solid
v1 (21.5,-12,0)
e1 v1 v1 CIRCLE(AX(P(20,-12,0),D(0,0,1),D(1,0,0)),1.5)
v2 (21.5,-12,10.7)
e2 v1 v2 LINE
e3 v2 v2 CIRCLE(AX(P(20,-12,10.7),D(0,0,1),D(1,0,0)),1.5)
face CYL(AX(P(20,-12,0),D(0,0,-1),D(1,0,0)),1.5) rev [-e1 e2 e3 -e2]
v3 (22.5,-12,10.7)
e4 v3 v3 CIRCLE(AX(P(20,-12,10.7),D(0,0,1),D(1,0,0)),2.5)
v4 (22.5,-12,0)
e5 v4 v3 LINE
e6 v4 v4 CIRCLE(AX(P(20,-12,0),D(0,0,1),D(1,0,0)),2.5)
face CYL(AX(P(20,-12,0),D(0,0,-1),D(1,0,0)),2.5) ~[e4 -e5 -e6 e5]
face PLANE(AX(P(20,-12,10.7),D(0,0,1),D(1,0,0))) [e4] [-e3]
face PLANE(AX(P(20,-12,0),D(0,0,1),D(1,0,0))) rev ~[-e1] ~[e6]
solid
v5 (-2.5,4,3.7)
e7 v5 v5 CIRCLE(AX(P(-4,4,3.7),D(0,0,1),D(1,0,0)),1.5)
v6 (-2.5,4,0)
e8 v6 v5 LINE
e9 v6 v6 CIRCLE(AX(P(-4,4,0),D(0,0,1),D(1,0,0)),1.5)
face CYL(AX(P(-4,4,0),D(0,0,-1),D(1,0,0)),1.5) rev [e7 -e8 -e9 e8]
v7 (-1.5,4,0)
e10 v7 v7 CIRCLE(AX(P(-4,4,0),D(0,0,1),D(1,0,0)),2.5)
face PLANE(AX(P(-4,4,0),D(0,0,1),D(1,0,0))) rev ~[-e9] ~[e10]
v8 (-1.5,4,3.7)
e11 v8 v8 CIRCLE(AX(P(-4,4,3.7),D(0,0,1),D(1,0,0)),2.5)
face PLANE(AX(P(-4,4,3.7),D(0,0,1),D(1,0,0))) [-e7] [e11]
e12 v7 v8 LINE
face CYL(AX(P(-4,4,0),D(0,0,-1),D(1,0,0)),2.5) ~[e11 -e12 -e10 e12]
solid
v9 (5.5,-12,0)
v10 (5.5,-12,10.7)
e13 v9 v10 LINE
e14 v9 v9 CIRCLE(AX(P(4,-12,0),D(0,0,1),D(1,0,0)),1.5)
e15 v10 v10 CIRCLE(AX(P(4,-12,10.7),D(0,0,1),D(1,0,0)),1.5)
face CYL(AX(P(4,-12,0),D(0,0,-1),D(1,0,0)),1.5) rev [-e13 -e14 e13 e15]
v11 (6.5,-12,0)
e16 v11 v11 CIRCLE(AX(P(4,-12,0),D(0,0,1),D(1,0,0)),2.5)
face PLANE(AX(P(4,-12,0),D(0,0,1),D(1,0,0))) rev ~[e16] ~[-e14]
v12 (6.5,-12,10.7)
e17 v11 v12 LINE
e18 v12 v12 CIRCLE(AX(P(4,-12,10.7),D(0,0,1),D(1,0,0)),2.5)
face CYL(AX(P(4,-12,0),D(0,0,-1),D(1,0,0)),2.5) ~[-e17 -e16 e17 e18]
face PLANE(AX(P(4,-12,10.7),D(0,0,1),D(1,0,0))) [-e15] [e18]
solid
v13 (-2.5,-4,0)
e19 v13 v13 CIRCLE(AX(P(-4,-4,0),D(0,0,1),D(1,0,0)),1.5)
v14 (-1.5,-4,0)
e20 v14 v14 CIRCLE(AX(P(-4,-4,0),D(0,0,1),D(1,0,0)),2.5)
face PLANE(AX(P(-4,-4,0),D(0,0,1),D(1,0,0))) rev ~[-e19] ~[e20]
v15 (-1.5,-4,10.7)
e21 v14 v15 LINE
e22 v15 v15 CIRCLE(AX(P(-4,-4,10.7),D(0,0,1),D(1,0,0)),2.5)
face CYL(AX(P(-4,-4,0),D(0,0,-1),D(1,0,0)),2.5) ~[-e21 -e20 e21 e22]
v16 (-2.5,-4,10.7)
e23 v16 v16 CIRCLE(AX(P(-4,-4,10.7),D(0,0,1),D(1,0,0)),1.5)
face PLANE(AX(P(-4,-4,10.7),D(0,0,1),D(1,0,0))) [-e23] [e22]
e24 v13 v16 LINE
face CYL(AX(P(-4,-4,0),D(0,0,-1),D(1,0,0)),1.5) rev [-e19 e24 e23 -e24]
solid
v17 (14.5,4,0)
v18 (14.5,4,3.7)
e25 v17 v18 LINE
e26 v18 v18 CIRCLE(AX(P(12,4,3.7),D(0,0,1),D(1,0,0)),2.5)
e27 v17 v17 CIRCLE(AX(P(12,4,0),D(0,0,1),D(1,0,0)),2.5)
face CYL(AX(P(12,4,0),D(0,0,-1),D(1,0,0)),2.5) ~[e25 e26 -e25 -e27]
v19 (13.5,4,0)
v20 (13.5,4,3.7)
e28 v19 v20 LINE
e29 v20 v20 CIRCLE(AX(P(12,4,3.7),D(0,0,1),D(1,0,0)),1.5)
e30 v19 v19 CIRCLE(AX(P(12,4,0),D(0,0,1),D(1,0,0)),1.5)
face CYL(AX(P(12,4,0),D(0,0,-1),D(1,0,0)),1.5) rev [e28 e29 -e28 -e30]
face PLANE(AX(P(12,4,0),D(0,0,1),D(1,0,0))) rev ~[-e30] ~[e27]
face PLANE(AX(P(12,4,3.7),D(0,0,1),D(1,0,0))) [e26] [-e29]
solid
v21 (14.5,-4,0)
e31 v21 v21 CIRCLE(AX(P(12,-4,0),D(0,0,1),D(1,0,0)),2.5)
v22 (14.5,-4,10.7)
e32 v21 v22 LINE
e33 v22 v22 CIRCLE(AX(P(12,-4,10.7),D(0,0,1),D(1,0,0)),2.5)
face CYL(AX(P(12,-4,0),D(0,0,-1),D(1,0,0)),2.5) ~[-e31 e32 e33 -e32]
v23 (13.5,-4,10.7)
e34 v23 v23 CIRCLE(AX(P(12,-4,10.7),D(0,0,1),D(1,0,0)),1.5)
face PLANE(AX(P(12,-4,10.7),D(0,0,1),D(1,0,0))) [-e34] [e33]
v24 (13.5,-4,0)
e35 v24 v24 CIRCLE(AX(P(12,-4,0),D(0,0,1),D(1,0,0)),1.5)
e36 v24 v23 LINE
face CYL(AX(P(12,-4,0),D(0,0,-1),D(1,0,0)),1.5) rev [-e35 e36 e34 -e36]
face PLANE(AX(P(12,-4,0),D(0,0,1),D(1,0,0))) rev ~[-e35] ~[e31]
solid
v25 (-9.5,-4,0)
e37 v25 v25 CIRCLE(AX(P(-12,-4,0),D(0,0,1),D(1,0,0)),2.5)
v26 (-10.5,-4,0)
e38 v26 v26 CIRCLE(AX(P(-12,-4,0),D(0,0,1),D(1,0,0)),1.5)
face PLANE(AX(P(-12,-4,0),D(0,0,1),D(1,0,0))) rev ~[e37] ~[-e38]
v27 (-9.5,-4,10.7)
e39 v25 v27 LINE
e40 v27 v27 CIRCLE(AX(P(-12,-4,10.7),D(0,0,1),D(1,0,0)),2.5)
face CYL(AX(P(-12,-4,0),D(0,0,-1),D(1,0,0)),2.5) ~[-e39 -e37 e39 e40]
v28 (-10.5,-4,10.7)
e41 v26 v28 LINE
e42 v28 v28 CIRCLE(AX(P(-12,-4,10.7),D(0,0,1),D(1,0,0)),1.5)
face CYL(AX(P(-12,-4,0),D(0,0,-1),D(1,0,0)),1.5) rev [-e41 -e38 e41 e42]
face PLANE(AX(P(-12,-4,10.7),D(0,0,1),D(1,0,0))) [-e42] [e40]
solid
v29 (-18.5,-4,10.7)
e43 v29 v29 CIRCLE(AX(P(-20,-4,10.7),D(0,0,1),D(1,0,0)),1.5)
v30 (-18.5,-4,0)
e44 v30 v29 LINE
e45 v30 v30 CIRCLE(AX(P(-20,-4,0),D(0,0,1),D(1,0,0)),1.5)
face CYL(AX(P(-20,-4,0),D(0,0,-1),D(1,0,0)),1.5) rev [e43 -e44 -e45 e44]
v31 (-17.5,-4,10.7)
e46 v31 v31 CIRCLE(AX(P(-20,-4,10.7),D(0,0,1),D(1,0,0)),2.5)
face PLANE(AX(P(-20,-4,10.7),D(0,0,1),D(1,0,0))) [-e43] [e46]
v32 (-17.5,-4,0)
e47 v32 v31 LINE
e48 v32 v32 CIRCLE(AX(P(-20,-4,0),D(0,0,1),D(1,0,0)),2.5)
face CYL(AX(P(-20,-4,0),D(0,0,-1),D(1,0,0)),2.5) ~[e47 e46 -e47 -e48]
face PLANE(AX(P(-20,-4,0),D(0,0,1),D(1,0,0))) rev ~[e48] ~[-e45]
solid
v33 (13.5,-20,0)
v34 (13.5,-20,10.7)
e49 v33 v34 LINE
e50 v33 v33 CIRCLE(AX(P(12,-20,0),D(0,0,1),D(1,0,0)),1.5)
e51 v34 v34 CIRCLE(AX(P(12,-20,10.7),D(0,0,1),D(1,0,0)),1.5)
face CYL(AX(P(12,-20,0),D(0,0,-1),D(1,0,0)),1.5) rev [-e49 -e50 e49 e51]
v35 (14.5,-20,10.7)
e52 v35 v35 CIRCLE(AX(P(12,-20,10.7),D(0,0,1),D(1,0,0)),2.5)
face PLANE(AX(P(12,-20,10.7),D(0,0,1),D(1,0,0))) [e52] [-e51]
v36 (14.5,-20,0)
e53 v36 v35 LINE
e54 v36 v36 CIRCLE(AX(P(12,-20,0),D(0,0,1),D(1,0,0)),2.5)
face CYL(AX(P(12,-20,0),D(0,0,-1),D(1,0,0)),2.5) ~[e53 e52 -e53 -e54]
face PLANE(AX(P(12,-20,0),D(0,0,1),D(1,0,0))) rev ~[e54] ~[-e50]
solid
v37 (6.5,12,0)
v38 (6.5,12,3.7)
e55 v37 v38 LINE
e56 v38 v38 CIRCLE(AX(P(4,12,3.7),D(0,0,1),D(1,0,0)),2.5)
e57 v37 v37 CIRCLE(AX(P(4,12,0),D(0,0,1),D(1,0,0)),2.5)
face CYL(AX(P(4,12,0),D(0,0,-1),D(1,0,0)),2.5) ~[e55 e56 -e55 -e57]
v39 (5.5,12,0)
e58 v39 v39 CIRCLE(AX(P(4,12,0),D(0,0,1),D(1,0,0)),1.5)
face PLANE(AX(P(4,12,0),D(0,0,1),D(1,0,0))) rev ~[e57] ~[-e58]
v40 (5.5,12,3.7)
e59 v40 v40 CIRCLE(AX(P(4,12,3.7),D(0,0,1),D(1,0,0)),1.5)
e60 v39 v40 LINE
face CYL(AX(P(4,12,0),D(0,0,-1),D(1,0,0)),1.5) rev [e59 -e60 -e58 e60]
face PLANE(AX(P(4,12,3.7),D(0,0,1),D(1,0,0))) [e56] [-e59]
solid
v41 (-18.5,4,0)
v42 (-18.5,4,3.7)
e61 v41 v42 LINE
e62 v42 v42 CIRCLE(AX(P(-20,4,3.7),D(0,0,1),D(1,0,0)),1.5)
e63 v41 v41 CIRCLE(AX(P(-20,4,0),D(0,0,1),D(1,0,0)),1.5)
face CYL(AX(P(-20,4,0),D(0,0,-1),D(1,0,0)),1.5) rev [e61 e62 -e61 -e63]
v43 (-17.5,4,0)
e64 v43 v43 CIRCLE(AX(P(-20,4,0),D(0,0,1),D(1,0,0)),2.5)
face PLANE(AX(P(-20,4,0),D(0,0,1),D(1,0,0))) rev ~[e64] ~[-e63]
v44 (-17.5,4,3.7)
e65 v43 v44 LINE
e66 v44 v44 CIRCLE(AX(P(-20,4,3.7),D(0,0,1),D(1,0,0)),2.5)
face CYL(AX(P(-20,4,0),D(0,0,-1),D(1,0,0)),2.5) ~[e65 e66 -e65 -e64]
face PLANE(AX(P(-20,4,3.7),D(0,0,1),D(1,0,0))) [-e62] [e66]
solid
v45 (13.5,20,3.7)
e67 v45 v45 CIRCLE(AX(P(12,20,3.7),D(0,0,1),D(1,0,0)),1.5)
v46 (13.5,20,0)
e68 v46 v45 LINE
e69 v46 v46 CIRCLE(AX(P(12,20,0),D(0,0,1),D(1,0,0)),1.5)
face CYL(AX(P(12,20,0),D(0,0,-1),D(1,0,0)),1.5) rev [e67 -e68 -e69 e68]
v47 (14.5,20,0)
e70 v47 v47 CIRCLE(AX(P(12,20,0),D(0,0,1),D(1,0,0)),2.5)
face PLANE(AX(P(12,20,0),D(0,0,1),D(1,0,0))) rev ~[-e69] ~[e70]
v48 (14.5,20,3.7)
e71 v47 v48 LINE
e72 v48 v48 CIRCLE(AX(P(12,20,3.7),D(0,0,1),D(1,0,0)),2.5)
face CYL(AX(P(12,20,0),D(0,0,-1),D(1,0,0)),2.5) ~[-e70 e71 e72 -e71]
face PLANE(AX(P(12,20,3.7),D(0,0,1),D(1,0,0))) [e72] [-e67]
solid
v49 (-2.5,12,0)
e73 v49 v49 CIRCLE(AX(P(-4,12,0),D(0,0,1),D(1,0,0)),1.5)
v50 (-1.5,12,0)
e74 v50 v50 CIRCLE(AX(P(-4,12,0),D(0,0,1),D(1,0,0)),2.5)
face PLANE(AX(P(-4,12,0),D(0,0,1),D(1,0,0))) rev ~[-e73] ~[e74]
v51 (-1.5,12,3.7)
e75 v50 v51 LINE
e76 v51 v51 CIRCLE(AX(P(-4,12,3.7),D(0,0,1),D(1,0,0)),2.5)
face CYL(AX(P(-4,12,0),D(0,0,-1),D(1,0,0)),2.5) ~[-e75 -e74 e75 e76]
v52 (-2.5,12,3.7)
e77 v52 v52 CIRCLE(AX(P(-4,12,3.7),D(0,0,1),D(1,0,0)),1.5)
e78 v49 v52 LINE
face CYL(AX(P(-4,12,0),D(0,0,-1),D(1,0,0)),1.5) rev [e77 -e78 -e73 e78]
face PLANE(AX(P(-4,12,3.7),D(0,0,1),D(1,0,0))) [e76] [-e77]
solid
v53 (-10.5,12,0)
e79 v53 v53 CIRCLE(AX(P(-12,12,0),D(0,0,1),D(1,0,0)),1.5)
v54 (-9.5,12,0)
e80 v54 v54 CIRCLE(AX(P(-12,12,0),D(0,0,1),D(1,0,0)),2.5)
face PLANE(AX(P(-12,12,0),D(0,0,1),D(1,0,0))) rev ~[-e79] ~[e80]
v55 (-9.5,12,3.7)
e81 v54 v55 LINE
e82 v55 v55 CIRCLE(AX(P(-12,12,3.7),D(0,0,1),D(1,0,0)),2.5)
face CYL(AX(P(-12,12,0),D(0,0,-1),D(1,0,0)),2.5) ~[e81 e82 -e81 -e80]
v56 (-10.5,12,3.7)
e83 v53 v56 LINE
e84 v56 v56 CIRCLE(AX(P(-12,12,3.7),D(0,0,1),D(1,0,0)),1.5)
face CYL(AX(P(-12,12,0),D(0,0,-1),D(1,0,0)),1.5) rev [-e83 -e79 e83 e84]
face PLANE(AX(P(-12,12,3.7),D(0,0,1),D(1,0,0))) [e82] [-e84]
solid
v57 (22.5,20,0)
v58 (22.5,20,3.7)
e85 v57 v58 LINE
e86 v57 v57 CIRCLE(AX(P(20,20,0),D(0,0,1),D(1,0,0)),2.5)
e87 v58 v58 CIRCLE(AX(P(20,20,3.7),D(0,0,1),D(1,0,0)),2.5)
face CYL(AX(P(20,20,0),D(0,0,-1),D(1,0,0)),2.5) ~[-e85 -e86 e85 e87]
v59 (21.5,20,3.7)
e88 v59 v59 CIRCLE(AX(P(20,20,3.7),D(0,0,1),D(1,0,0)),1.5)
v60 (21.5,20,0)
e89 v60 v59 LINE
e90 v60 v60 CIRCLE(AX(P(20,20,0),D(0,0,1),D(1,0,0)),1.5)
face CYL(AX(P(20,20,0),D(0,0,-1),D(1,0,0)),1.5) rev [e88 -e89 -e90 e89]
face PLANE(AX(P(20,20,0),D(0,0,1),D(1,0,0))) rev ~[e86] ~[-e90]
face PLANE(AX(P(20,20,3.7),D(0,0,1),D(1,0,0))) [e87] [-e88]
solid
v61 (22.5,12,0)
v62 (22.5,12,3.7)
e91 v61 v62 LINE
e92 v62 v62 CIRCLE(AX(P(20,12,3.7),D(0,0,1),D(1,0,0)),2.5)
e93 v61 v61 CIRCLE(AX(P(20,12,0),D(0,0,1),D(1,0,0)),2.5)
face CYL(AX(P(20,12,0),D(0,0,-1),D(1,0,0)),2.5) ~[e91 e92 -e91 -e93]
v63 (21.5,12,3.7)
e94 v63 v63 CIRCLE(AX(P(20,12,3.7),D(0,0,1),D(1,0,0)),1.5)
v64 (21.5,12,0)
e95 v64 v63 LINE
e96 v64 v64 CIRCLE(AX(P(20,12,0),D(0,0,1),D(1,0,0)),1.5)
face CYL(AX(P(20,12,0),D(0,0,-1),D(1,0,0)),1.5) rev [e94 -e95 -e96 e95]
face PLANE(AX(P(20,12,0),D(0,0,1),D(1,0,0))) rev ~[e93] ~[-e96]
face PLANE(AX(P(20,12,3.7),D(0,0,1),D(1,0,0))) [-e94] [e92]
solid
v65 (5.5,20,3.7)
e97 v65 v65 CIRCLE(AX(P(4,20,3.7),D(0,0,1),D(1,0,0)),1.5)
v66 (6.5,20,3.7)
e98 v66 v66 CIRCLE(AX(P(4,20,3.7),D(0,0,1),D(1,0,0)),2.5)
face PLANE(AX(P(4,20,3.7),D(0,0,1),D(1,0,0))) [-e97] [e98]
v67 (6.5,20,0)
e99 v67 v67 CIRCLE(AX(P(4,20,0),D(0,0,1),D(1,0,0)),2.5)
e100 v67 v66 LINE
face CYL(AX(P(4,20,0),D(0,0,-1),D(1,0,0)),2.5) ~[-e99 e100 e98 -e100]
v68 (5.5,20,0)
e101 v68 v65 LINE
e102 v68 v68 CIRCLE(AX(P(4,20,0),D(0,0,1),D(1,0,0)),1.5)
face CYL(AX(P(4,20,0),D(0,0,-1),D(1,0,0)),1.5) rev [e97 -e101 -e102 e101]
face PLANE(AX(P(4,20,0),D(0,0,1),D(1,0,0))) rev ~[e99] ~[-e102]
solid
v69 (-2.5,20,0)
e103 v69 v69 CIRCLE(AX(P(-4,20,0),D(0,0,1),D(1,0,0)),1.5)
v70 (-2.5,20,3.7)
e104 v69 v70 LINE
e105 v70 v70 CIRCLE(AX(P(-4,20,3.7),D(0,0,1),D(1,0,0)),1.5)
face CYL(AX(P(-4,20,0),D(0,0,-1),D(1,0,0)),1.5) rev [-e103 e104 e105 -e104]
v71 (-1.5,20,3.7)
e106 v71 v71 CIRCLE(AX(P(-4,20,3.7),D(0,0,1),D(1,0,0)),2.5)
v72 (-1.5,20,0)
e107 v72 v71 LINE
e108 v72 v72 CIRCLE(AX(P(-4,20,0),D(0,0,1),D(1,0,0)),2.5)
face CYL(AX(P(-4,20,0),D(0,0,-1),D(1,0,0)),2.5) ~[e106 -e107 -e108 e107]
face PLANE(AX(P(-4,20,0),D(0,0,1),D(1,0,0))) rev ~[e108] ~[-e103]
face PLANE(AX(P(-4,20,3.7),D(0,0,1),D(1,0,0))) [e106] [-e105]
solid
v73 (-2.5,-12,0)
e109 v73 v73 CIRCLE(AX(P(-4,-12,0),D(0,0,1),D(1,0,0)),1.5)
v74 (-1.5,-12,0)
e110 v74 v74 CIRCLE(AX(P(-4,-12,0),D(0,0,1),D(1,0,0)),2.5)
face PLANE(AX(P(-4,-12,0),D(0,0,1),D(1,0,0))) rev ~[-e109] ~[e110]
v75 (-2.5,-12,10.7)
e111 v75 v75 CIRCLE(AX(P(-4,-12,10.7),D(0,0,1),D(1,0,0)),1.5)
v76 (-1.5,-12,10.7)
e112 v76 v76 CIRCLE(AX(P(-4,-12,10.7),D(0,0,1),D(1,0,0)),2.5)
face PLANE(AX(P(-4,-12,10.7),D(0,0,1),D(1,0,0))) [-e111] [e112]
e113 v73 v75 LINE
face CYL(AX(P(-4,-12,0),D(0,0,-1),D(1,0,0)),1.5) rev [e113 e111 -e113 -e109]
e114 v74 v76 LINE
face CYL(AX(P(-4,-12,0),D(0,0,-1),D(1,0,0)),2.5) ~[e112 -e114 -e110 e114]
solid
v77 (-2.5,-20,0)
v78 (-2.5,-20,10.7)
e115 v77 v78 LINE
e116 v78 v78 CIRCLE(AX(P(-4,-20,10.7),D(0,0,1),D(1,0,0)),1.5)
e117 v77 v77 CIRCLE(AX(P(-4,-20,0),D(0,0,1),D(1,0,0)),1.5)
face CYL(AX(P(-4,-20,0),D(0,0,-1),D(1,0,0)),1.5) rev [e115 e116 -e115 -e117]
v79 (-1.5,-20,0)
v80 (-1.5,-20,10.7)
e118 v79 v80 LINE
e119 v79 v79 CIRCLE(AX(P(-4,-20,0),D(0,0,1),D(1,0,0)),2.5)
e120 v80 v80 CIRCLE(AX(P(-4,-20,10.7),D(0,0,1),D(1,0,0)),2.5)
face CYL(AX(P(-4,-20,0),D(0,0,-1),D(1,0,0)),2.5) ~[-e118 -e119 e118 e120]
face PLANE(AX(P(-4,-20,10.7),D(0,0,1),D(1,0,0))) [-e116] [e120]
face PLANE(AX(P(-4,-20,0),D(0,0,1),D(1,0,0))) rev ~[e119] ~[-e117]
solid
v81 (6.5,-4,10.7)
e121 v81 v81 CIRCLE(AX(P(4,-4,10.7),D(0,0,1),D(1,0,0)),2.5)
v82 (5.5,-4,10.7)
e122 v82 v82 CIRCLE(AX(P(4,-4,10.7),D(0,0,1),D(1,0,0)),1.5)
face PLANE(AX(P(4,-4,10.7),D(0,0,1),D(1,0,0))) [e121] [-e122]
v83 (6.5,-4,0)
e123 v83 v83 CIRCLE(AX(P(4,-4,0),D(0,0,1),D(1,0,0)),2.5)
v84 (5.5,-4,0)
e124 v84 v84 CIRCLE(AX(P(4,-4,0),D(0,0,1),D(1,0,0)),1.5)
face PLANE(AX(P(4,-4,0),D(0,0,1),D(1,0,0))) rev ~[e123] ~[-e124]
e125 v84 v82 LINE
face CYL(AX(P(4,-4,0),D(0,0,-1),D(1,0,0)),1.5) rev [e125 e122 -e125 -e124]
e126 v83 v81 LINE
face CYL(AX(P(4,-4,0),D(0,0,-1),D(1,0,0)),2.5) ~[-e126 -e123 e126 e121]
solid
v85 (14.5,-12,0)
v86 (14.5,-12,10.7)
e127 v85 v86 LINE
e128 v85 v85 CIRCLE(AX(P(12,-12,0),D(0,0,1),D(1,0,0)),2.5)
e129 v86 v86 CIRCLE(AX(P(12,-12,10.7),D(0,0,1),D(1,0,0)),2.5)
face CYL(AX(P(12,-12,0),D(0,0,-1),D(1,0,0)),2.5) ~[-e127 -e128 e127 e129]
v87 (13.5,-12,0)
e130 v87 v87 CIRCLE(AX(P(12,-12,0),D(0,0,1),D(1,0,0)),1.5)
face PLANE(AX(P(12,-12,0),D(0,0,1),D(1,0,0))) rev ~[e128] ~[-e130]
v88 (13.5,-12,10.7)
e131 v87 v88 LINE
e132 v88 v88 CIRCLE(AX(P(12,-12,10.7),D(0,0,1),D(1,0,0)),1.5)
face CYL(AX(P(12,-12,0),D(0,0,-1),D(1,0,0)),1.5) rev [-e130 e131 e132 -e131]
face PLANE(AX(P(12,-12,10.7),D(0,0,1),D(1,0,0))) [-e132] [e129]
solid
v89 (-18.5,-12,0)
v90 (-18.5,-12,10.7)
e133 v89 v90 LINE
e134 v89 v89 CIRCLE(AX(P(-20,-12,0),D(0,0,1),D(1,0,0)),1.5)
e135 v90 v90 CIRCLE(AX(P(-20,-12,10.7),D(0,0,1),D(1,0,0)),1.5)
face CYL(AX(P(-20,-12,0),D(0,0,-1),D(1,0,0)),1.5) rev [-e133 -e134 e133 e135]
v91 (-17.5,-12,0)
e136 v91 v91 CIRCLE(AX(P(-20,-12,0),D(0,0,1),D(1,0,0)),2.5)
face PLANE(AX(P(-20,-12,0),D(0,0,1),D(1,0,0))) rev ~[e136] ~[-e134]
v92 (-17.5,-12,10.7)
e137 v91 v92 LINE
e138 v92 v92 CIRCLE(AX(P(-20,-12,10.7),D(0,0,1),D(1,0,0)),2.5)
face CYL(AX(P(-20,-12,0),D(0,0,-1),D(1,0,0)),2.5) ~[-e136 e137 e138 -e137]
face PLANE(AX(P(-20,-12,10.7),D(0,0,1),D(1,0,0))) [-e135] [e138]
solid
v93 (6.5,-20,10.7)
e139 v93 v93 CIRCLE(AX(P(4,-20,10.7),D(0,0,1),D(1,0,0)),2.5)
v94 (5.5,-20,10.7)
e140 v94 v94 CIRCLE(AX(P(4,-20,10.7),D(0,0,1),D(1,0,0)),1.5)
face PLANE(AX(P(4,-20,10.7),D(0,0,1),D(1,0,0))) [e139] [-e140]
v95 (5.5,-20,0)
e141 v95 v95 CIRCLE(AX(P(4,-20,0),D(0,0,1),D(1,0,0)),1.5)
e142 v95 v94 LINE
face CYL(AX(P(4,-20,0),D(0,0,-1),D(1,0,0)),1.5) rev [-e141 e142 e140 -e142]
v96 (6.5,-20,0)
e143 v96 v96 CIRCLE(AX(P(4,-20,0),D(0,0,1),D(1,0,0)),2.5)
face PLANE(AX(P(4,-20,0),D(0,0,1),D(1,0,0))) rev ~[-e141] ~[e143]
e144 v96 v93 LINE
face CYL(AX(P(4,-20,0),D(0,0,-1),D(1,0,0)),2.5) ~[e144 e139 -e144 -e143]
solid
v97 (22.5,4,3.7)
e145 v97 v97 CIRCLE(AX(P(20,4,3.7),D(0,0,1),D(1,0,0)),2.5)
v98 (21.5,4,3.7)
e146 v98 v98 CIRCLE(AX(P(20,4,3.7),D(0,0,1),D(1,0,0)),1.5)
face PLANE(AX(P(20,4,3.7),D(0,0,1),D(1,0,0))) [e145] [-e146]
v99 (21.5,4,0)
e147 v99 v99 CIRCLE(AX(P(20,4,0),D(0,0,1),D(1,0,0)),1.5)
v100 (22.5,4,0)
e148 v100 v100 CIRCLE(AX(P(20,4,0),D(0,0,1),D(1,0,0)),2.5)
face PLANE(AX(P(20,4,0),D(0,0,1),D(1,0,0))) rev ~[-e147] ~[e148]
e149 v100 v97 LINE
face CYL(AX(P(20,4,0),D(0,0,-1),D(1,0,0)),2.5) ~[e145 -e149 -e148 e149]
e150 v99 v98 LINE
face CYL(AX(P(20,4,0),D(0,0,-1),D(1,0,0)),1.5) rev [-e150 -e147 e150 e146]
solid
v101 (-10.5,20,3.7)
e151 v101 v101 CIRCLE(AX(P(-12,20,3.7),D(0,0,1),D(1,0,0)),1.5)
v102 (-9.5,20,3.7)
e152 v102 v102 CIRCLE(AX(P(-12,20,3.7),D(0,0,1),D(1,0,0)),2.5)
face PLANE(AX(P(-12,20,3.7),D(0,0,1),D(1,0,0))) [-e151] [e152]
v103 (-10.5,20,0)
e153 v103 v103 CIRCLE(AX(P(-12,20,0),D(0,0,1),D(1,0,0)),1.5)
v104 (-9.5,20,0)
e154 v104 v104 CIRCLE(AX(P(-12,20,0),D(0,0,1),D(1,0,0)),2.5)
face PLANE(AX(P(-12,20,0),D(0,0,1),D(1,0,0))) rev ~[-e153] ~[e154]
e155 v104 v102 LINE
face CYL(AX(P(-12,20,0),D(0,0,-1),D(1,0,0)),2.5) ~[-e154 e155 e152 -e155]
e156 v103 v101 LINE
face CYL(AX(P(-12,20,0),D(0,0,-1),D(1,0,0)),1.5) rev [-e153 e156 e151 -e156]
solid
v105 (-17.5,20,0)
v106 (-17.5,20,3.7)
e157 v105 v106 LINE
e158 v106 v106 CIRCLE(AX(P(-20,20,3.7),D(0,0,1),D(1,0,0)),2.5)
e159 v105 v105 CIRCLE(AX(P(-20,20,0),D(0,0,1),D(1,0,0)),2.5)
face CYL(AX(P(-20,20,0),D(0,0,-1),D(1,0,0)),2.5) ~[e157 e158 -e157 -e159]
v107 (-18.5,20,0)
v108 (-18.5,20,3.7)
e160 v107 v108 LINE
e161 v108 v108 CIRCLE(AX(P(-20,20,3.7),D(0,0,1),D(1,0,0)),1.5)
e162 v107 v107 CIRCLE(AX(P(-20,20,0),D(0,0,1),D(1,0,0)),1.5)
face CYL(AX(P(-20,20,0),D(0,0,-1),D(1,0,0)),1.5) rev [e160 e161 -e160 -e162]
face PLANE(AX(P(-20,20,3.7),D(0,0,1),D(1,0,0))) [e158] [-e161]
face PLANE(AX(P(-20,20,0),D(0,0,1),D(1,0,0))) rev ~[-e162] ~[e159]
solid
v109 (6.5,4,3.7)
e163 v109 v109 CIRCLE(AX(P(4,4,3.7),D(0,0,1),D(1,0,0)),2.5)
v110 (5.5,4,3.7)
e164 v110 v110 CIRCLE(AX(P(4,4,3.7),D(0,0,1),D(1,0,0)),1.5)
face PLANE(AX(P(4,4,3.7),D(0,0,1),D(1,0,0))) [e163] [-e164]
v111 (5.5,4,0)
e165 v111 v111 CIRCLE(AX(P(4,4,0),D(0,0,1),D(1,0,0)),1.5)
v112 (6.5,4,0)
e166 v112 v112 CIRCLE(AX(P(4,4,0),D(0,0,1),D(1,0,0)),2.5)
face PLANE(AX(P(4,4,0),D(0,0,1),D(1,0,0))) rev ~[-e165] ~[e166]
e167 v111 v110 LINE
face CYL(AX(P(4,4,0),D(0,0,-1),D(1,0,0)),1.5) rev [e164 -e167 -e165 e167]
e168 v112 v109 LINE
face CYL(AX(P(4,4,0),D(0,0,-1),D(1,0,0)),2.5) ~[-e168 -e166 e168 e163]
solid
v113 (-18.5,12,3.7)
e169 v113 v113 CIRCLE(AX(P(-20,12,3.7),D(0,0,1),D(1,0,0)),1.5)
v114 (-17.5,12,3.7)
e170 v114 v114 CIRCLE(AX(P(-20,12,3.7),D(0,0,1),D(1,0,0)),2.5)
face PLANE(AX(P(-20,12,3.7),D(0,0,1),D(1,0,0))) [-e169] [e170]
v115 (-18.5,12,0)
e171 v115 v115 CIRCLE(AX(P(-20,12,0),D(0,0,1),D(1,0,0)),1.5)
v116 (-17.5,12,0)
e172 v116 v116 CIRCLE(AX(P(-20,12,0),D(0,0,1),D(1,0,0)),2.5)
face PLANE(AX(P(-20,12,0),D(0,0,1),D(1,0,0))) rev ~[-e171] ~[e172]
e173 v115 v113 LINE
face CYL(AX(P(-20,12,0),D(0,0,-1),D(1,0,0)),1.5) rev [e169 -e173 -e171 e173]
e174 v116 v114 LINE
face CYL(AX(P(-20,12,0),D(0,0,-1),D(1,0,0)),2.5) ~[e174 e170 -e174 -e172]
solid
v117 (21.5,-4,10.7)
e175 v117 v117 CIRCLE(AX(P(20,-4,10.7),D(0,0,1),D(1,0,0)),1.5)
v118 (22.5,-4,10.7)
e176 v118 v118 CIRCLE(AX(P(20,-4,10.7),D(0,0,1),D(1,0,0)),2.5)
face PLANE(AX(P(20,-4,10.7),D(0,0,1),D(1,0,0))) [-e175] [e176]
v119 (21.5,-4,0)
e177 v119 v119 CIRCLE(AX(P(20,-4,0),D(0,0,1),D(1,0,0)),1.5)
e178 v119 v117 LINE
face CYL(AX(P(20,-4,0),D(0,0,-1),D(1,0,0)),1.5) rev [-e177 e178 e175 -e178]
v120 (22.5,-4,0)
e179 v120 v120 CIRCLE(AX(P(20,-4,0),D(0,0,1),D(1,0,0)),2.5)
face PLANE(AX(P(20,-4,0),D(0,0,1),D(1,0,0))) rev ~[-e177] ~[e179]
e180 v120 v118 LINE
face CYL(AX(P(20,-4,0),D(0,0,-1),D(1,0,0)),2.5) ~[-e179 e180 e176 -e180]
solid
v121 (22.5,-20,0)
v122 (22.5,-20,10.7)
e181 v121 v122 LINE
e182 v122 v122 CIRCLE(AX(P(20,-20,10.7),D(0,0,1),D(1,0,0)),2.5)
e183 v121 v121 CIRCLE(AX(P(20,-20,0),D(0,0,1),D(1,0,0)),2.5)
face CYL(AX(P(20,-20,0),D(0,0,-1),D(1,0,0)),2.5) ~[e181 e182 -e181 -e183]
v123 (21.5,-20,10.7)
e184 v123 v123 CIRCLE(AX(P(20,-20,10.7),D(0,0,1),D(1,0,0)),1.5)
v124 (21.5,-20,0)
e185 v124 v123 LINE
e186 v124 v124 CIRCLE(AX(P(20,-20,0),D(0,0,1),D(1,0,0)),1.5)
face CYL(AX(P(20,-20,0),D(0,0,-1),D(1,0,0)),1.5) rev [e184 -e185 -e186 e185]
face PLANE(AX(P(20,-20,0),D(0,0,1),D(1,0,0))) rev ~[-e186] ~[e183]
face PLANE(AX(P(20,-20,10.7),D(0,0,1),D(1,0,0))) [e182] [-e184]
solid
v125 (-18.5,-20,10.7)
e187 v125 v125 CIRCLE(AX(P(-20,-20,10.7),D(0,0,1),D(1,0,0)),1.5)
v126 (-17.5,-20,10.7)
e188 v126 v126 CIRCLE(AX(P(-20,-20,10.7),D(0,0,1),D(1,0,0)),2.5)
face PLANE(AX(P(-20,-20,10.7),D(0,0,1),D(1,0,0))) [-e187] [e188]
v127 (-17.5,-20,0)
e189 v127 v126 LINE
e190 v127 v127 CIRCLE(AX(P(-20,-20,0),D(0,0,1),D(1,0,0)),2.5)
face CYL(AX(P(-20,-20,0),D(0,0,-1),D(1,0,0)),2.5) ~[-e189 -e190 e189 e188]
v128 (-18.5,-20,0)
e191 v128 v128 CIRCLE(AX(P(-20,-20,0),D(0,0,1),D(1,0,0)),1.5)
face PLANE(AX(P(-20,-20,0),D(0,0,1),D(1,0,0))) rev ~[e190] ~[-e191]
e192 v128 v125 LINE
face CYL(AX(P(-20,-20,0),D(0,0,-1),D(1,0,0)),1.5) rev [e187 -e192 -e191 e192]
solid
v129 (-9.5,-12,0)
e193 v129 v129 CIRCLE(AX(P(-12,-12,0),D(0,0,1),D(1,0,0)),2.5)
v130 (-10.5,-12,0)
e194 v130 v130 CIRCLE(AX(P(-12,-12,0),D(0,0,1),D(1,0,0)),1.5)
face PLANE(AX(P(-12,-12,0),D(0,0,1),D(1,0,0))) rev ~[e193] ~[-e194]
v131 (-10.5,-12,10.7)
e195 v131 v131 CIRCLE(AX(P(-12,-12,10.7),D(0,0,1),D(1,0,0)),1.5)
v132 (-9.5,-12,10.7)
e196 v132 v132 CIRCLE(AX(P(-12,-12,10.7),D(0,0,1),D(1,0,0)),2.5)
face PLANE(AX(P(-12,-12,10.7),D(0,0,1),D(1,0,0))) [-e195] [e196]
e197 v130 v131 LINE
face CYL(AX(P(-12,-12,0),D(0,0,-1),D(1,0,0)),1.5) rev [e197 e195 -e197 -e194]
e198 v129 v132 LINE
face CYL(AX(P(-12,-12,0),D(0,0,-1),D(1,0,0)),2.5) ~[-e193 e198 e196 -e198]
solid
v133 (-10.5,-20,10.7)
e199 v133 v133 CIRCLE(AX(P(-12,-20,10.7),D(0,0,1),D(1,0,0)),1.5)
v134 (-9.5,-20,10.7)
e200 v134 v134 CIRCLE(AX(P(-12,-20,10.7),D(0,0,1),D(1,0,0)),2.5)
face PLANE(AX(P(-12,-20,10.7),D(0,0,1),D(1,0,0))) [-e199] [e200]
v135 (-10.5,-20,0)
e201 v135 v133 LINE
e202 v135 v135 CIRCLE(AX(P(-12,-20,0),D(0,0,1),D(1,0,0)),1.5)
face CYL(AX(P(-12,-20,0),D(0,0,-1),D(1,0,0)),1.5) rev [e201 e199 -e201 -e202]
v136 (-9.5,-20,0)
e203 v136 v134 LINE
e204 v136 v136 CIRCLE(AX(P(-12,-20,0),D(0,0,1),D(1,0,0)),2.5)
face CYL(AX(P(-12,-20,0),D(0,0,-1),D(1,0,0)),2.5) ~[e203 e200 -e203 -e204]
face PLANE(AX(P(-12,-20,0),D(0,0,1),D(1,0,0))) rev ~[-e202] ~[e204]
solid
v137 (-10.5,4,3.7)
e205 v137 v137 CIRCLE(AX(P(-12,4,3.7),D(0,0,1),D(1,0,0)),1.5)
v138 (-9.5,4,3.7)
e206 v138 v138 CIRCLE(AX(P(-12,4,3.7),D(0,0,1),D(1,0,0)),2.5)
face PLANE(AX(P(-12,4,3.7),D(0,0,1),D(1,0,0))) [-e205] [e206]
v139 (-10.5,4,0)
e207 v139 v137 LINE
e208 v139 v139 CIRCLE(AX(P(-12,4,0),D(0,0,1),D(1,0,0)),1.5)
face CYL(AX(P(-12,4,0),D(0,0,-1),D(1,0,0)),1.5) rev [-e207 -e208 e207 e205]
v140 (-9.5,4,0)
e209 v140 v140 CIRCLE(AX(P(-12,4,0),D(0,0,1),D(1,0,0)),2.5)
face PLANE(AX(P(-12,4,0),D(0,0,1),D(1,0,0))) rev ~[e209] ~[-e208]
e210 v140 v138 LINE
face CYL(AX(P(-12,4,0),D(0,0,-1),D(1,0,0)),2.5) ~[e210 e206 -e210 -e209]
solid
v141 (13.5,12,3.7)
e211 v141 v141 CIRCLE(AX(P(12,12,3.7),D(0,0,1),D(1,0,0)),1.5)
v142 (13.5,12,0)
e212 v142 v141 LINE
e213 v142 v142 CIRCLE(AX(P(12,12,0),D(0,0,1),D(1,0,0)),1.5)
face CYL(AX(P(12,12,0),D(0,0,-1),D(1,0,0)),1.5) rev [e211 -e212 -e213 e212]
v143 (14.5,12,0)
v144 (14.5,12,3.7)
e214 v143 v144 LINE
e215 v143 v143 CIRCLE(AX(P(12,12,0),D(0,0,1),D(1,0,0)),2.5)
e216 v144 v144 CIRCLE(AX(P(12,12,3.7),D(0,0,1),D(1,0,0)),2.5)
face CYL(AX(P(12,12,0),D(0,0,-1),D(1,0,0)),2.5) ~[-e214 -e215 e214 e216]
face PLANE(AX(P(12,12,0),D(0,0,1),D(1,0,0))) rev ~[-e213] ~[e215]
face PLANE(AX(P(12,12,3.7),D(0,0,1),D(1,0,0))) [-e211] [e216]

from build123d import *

# Parameters (mm, degrees)
F0_R     = 2.5
F0_R_2   = 1.5
F1_DEPTH = 3.7
F2_DEPTH = 10.7


with BuildPart() as f1:
    # F0 (on Top) → F1 (new body)
    with BuildSketch(Plane.XY):
        with Locations((-20, 20)):
            Circle(F0_R)
        with Locations((-20, 20)):
            Circle(F0_R_2, mode=Mode.SUBTRACT)
        with Locations((-4, 20)):
            Circle(F0_R)
        with Locations((-4, 20)):
            Circle(F0_R_2, mode=Mode.SUBTRACT)
        with Locations((-12, 20)):
            Circle(F0_R)
        with Locations((-12, 20)):
            Circle(F0_R_2, mode=Mode.SUBTRACT)
        with Locations((4, 20)):
            Circle(F0_R)
        with Locations((4, 20)):
            Circle(F0_R_2, mode=Mode.SUBTRACT)
        with Locations((12, 20)):
            Circle(F0_R)
        with Locations((12, 20)):
            Circle(F0_R_2, mode=Mode.SUBTRACT)
        with Locations((12, 12)):
            Circle(F0_R)
        with Locations((12, 12)):
            Circle(F0_R_2, mode=Mode.SUBTRACT)
        with Locations((4, 12)):
            Circle(F0_R)
        with Locations((4, 12)):
            Circle(F0_R_2, mode=Mode.SUBTRACT)
        with Locations((-4, 12)):
            Circle(F0_R)
        with Locations((-4, 12)):
            Circle(F0_R_2, mode=Mode.SUBTRACT)
        with Locations((-12, 12)):
            Circle(F0_R)
        with Locations((-12, 12)):
            Circle(F0_R_2, mode=Mode.SUBTRACT)
        with Locations((20, 20)):
            Circle(F0_R)
        with Locations((20, 20)):
            Circle(F0_R_2, mode=Mode.SUBTRACT)
        with Locations((20, 12)):
            Circle(F0_R)
        with Locations((20, 12)):
            Circle(F0_R_2, mode=Mode.SUBTRACT)
        with Locations((-20, 12)):
            Circle(F0_R)
        with Locations((-20, 12)):
            Circle(F0_R_2, mode=Mode.SUBTRACT)
        with Locations((-20, 4)):
            Circle(F0_R)
        with Locations((-20, 4)):
            Circle(F0_R_2, mode=Mode.SUBTRACT)
        with Locations((-12, 4)):
            Circle(F0_R)
        with Locations((-12, 4)):
            Circle(F0_R_2, mode=Mode.SUBTRACT)
        with Locations((-4, 4)):
            Circle(F0_R)
        with Locations((-4, 4)):
            Circle(F0_R_2, mode=Mode.SUBTRACT)
        with Locations((4, 4)):
            Circle(F0_R)
        with Locations((4, 4)):
            Circle(F0_R_2, mode=Mode.SUBTRACT)
        with Locations((12, 4)):
            Circle(F0_R)
        with Locations((12, 4)):
            Circle(F0_R_2, mode=Mode.SUBTRACT)
        with Locations((20, 4)):
            Circle(F0_R)
        with Locations((20, 4)):
            Circle(F0_R_2, mode=Mode.SUBTRACT)
    extrude(amount=F1_DEPTH)


with BuildPart() as f2:
    # F0 (on Top) → F2 (new body)
    with BuildSketch(Plane.XY):
        with Locations((-20, -4)):
            Circle(F0_R)
        with Locations((-20, -4)):
            Circle(F0_R_2, mode=Mode.SUBTRACT)
        with Locations((-12, -4)):
            Circle(F0_R)
        with Locations((-12, -4)):
            Circle(F0_R_2, mode=Mode.SUBTRACT)
        with Locations((-4, -4)):
            Circle(F0_R)
        with Locations((-4, -4)):
            Circle(F0_R_2, mode=Mode.SUBTRACT)
        with Locations((4, -4)):
            Circle(F0_R)
        with Locations((4, -4)):
            Circle(F0_R_2, mode=Mode.SUBTRACT)
        with Locations((12, -4)):
            Circle(F0_R)
        with Locations((12, -4)):
            Circle(F0_R_2, mode=Mode.SUBTRACT)
        with Locations((20, -4)):
            Circle(F0_R)
        with Locations((20, -4)):
            Circle(F0_R_2, mode=Mode.SUBTRACT)
        with Locations((20, -12)):
            Circle(F0_R)
        with Locations((20, -12)):
            Circle(F0_R_2, mode=Mode.SUBTRACT)
        with Locations((12, -12)):
            Circle(F0_R)
        with Locations((12, -12)):
            Circle(F0_R_2, mode=Mode.SUBTRACT)
        with Locations((-4, -12)):
            Circle(F0_R)
        with Locations((-4, -12)):
            Circle(F0_R_2, mode=Mode.SUBTRACT)
        with Locations((-12, -12)):
            Circle(F0_R)
        with Locations((-12, -12)):
            Circle(F0_R_2, mode=Mode.SUBTRACT)
        with Locations((-20, -12)):
            Circle(F0_R)
        with Locations((-20, -12)):
            Circle(F0_R_2, mode=Mode.SUBTRACT)
        with Locations((-20, -20)):
            Circle(F0_R)
        with Locations((-20, -20)):
            Circle(F0_R_2, mode=Mode.SUBTRACT)
        with Locations((-12, -20)):
            Circle(F0_R)
        with Locations((-12, -20)):
            Circle(F0_R_2, mode=Mode.SUBTRACT)
        with Locations((-4, -20)):
            Circle(F0_R)
        with Locations((-4, -20)):
            Circle(F0_R_2, mode=Mode.SUBTRACT)
        with Locations((4, -20)):
            Circle(F0_R)
        with Locations((4, -20)):
            Circle(F0_R_2, mode=Mode.SUBTRACT)
        with Locations((12, -20)):
            Circle(F0_R)
        with Locations((12, -20)):
            Circle(F0_R_2, mode=Mode.SUBTRACT)
        with Locations((20, -20)):
            Circle(F0_R)
        with Locations((20, -20)):
            Circle(F0_R_2, mode=Mode.SUBTRACT)
        with Locations((4, -12)):
            Circle(F0_R)
        with Locations((4, -12)):
            Circle(F0_R_2, mode=Mode.SUBTRACT)
    extrude(amount=F2_DEPTH)


solid = Compound([f1.part, f2.part])
